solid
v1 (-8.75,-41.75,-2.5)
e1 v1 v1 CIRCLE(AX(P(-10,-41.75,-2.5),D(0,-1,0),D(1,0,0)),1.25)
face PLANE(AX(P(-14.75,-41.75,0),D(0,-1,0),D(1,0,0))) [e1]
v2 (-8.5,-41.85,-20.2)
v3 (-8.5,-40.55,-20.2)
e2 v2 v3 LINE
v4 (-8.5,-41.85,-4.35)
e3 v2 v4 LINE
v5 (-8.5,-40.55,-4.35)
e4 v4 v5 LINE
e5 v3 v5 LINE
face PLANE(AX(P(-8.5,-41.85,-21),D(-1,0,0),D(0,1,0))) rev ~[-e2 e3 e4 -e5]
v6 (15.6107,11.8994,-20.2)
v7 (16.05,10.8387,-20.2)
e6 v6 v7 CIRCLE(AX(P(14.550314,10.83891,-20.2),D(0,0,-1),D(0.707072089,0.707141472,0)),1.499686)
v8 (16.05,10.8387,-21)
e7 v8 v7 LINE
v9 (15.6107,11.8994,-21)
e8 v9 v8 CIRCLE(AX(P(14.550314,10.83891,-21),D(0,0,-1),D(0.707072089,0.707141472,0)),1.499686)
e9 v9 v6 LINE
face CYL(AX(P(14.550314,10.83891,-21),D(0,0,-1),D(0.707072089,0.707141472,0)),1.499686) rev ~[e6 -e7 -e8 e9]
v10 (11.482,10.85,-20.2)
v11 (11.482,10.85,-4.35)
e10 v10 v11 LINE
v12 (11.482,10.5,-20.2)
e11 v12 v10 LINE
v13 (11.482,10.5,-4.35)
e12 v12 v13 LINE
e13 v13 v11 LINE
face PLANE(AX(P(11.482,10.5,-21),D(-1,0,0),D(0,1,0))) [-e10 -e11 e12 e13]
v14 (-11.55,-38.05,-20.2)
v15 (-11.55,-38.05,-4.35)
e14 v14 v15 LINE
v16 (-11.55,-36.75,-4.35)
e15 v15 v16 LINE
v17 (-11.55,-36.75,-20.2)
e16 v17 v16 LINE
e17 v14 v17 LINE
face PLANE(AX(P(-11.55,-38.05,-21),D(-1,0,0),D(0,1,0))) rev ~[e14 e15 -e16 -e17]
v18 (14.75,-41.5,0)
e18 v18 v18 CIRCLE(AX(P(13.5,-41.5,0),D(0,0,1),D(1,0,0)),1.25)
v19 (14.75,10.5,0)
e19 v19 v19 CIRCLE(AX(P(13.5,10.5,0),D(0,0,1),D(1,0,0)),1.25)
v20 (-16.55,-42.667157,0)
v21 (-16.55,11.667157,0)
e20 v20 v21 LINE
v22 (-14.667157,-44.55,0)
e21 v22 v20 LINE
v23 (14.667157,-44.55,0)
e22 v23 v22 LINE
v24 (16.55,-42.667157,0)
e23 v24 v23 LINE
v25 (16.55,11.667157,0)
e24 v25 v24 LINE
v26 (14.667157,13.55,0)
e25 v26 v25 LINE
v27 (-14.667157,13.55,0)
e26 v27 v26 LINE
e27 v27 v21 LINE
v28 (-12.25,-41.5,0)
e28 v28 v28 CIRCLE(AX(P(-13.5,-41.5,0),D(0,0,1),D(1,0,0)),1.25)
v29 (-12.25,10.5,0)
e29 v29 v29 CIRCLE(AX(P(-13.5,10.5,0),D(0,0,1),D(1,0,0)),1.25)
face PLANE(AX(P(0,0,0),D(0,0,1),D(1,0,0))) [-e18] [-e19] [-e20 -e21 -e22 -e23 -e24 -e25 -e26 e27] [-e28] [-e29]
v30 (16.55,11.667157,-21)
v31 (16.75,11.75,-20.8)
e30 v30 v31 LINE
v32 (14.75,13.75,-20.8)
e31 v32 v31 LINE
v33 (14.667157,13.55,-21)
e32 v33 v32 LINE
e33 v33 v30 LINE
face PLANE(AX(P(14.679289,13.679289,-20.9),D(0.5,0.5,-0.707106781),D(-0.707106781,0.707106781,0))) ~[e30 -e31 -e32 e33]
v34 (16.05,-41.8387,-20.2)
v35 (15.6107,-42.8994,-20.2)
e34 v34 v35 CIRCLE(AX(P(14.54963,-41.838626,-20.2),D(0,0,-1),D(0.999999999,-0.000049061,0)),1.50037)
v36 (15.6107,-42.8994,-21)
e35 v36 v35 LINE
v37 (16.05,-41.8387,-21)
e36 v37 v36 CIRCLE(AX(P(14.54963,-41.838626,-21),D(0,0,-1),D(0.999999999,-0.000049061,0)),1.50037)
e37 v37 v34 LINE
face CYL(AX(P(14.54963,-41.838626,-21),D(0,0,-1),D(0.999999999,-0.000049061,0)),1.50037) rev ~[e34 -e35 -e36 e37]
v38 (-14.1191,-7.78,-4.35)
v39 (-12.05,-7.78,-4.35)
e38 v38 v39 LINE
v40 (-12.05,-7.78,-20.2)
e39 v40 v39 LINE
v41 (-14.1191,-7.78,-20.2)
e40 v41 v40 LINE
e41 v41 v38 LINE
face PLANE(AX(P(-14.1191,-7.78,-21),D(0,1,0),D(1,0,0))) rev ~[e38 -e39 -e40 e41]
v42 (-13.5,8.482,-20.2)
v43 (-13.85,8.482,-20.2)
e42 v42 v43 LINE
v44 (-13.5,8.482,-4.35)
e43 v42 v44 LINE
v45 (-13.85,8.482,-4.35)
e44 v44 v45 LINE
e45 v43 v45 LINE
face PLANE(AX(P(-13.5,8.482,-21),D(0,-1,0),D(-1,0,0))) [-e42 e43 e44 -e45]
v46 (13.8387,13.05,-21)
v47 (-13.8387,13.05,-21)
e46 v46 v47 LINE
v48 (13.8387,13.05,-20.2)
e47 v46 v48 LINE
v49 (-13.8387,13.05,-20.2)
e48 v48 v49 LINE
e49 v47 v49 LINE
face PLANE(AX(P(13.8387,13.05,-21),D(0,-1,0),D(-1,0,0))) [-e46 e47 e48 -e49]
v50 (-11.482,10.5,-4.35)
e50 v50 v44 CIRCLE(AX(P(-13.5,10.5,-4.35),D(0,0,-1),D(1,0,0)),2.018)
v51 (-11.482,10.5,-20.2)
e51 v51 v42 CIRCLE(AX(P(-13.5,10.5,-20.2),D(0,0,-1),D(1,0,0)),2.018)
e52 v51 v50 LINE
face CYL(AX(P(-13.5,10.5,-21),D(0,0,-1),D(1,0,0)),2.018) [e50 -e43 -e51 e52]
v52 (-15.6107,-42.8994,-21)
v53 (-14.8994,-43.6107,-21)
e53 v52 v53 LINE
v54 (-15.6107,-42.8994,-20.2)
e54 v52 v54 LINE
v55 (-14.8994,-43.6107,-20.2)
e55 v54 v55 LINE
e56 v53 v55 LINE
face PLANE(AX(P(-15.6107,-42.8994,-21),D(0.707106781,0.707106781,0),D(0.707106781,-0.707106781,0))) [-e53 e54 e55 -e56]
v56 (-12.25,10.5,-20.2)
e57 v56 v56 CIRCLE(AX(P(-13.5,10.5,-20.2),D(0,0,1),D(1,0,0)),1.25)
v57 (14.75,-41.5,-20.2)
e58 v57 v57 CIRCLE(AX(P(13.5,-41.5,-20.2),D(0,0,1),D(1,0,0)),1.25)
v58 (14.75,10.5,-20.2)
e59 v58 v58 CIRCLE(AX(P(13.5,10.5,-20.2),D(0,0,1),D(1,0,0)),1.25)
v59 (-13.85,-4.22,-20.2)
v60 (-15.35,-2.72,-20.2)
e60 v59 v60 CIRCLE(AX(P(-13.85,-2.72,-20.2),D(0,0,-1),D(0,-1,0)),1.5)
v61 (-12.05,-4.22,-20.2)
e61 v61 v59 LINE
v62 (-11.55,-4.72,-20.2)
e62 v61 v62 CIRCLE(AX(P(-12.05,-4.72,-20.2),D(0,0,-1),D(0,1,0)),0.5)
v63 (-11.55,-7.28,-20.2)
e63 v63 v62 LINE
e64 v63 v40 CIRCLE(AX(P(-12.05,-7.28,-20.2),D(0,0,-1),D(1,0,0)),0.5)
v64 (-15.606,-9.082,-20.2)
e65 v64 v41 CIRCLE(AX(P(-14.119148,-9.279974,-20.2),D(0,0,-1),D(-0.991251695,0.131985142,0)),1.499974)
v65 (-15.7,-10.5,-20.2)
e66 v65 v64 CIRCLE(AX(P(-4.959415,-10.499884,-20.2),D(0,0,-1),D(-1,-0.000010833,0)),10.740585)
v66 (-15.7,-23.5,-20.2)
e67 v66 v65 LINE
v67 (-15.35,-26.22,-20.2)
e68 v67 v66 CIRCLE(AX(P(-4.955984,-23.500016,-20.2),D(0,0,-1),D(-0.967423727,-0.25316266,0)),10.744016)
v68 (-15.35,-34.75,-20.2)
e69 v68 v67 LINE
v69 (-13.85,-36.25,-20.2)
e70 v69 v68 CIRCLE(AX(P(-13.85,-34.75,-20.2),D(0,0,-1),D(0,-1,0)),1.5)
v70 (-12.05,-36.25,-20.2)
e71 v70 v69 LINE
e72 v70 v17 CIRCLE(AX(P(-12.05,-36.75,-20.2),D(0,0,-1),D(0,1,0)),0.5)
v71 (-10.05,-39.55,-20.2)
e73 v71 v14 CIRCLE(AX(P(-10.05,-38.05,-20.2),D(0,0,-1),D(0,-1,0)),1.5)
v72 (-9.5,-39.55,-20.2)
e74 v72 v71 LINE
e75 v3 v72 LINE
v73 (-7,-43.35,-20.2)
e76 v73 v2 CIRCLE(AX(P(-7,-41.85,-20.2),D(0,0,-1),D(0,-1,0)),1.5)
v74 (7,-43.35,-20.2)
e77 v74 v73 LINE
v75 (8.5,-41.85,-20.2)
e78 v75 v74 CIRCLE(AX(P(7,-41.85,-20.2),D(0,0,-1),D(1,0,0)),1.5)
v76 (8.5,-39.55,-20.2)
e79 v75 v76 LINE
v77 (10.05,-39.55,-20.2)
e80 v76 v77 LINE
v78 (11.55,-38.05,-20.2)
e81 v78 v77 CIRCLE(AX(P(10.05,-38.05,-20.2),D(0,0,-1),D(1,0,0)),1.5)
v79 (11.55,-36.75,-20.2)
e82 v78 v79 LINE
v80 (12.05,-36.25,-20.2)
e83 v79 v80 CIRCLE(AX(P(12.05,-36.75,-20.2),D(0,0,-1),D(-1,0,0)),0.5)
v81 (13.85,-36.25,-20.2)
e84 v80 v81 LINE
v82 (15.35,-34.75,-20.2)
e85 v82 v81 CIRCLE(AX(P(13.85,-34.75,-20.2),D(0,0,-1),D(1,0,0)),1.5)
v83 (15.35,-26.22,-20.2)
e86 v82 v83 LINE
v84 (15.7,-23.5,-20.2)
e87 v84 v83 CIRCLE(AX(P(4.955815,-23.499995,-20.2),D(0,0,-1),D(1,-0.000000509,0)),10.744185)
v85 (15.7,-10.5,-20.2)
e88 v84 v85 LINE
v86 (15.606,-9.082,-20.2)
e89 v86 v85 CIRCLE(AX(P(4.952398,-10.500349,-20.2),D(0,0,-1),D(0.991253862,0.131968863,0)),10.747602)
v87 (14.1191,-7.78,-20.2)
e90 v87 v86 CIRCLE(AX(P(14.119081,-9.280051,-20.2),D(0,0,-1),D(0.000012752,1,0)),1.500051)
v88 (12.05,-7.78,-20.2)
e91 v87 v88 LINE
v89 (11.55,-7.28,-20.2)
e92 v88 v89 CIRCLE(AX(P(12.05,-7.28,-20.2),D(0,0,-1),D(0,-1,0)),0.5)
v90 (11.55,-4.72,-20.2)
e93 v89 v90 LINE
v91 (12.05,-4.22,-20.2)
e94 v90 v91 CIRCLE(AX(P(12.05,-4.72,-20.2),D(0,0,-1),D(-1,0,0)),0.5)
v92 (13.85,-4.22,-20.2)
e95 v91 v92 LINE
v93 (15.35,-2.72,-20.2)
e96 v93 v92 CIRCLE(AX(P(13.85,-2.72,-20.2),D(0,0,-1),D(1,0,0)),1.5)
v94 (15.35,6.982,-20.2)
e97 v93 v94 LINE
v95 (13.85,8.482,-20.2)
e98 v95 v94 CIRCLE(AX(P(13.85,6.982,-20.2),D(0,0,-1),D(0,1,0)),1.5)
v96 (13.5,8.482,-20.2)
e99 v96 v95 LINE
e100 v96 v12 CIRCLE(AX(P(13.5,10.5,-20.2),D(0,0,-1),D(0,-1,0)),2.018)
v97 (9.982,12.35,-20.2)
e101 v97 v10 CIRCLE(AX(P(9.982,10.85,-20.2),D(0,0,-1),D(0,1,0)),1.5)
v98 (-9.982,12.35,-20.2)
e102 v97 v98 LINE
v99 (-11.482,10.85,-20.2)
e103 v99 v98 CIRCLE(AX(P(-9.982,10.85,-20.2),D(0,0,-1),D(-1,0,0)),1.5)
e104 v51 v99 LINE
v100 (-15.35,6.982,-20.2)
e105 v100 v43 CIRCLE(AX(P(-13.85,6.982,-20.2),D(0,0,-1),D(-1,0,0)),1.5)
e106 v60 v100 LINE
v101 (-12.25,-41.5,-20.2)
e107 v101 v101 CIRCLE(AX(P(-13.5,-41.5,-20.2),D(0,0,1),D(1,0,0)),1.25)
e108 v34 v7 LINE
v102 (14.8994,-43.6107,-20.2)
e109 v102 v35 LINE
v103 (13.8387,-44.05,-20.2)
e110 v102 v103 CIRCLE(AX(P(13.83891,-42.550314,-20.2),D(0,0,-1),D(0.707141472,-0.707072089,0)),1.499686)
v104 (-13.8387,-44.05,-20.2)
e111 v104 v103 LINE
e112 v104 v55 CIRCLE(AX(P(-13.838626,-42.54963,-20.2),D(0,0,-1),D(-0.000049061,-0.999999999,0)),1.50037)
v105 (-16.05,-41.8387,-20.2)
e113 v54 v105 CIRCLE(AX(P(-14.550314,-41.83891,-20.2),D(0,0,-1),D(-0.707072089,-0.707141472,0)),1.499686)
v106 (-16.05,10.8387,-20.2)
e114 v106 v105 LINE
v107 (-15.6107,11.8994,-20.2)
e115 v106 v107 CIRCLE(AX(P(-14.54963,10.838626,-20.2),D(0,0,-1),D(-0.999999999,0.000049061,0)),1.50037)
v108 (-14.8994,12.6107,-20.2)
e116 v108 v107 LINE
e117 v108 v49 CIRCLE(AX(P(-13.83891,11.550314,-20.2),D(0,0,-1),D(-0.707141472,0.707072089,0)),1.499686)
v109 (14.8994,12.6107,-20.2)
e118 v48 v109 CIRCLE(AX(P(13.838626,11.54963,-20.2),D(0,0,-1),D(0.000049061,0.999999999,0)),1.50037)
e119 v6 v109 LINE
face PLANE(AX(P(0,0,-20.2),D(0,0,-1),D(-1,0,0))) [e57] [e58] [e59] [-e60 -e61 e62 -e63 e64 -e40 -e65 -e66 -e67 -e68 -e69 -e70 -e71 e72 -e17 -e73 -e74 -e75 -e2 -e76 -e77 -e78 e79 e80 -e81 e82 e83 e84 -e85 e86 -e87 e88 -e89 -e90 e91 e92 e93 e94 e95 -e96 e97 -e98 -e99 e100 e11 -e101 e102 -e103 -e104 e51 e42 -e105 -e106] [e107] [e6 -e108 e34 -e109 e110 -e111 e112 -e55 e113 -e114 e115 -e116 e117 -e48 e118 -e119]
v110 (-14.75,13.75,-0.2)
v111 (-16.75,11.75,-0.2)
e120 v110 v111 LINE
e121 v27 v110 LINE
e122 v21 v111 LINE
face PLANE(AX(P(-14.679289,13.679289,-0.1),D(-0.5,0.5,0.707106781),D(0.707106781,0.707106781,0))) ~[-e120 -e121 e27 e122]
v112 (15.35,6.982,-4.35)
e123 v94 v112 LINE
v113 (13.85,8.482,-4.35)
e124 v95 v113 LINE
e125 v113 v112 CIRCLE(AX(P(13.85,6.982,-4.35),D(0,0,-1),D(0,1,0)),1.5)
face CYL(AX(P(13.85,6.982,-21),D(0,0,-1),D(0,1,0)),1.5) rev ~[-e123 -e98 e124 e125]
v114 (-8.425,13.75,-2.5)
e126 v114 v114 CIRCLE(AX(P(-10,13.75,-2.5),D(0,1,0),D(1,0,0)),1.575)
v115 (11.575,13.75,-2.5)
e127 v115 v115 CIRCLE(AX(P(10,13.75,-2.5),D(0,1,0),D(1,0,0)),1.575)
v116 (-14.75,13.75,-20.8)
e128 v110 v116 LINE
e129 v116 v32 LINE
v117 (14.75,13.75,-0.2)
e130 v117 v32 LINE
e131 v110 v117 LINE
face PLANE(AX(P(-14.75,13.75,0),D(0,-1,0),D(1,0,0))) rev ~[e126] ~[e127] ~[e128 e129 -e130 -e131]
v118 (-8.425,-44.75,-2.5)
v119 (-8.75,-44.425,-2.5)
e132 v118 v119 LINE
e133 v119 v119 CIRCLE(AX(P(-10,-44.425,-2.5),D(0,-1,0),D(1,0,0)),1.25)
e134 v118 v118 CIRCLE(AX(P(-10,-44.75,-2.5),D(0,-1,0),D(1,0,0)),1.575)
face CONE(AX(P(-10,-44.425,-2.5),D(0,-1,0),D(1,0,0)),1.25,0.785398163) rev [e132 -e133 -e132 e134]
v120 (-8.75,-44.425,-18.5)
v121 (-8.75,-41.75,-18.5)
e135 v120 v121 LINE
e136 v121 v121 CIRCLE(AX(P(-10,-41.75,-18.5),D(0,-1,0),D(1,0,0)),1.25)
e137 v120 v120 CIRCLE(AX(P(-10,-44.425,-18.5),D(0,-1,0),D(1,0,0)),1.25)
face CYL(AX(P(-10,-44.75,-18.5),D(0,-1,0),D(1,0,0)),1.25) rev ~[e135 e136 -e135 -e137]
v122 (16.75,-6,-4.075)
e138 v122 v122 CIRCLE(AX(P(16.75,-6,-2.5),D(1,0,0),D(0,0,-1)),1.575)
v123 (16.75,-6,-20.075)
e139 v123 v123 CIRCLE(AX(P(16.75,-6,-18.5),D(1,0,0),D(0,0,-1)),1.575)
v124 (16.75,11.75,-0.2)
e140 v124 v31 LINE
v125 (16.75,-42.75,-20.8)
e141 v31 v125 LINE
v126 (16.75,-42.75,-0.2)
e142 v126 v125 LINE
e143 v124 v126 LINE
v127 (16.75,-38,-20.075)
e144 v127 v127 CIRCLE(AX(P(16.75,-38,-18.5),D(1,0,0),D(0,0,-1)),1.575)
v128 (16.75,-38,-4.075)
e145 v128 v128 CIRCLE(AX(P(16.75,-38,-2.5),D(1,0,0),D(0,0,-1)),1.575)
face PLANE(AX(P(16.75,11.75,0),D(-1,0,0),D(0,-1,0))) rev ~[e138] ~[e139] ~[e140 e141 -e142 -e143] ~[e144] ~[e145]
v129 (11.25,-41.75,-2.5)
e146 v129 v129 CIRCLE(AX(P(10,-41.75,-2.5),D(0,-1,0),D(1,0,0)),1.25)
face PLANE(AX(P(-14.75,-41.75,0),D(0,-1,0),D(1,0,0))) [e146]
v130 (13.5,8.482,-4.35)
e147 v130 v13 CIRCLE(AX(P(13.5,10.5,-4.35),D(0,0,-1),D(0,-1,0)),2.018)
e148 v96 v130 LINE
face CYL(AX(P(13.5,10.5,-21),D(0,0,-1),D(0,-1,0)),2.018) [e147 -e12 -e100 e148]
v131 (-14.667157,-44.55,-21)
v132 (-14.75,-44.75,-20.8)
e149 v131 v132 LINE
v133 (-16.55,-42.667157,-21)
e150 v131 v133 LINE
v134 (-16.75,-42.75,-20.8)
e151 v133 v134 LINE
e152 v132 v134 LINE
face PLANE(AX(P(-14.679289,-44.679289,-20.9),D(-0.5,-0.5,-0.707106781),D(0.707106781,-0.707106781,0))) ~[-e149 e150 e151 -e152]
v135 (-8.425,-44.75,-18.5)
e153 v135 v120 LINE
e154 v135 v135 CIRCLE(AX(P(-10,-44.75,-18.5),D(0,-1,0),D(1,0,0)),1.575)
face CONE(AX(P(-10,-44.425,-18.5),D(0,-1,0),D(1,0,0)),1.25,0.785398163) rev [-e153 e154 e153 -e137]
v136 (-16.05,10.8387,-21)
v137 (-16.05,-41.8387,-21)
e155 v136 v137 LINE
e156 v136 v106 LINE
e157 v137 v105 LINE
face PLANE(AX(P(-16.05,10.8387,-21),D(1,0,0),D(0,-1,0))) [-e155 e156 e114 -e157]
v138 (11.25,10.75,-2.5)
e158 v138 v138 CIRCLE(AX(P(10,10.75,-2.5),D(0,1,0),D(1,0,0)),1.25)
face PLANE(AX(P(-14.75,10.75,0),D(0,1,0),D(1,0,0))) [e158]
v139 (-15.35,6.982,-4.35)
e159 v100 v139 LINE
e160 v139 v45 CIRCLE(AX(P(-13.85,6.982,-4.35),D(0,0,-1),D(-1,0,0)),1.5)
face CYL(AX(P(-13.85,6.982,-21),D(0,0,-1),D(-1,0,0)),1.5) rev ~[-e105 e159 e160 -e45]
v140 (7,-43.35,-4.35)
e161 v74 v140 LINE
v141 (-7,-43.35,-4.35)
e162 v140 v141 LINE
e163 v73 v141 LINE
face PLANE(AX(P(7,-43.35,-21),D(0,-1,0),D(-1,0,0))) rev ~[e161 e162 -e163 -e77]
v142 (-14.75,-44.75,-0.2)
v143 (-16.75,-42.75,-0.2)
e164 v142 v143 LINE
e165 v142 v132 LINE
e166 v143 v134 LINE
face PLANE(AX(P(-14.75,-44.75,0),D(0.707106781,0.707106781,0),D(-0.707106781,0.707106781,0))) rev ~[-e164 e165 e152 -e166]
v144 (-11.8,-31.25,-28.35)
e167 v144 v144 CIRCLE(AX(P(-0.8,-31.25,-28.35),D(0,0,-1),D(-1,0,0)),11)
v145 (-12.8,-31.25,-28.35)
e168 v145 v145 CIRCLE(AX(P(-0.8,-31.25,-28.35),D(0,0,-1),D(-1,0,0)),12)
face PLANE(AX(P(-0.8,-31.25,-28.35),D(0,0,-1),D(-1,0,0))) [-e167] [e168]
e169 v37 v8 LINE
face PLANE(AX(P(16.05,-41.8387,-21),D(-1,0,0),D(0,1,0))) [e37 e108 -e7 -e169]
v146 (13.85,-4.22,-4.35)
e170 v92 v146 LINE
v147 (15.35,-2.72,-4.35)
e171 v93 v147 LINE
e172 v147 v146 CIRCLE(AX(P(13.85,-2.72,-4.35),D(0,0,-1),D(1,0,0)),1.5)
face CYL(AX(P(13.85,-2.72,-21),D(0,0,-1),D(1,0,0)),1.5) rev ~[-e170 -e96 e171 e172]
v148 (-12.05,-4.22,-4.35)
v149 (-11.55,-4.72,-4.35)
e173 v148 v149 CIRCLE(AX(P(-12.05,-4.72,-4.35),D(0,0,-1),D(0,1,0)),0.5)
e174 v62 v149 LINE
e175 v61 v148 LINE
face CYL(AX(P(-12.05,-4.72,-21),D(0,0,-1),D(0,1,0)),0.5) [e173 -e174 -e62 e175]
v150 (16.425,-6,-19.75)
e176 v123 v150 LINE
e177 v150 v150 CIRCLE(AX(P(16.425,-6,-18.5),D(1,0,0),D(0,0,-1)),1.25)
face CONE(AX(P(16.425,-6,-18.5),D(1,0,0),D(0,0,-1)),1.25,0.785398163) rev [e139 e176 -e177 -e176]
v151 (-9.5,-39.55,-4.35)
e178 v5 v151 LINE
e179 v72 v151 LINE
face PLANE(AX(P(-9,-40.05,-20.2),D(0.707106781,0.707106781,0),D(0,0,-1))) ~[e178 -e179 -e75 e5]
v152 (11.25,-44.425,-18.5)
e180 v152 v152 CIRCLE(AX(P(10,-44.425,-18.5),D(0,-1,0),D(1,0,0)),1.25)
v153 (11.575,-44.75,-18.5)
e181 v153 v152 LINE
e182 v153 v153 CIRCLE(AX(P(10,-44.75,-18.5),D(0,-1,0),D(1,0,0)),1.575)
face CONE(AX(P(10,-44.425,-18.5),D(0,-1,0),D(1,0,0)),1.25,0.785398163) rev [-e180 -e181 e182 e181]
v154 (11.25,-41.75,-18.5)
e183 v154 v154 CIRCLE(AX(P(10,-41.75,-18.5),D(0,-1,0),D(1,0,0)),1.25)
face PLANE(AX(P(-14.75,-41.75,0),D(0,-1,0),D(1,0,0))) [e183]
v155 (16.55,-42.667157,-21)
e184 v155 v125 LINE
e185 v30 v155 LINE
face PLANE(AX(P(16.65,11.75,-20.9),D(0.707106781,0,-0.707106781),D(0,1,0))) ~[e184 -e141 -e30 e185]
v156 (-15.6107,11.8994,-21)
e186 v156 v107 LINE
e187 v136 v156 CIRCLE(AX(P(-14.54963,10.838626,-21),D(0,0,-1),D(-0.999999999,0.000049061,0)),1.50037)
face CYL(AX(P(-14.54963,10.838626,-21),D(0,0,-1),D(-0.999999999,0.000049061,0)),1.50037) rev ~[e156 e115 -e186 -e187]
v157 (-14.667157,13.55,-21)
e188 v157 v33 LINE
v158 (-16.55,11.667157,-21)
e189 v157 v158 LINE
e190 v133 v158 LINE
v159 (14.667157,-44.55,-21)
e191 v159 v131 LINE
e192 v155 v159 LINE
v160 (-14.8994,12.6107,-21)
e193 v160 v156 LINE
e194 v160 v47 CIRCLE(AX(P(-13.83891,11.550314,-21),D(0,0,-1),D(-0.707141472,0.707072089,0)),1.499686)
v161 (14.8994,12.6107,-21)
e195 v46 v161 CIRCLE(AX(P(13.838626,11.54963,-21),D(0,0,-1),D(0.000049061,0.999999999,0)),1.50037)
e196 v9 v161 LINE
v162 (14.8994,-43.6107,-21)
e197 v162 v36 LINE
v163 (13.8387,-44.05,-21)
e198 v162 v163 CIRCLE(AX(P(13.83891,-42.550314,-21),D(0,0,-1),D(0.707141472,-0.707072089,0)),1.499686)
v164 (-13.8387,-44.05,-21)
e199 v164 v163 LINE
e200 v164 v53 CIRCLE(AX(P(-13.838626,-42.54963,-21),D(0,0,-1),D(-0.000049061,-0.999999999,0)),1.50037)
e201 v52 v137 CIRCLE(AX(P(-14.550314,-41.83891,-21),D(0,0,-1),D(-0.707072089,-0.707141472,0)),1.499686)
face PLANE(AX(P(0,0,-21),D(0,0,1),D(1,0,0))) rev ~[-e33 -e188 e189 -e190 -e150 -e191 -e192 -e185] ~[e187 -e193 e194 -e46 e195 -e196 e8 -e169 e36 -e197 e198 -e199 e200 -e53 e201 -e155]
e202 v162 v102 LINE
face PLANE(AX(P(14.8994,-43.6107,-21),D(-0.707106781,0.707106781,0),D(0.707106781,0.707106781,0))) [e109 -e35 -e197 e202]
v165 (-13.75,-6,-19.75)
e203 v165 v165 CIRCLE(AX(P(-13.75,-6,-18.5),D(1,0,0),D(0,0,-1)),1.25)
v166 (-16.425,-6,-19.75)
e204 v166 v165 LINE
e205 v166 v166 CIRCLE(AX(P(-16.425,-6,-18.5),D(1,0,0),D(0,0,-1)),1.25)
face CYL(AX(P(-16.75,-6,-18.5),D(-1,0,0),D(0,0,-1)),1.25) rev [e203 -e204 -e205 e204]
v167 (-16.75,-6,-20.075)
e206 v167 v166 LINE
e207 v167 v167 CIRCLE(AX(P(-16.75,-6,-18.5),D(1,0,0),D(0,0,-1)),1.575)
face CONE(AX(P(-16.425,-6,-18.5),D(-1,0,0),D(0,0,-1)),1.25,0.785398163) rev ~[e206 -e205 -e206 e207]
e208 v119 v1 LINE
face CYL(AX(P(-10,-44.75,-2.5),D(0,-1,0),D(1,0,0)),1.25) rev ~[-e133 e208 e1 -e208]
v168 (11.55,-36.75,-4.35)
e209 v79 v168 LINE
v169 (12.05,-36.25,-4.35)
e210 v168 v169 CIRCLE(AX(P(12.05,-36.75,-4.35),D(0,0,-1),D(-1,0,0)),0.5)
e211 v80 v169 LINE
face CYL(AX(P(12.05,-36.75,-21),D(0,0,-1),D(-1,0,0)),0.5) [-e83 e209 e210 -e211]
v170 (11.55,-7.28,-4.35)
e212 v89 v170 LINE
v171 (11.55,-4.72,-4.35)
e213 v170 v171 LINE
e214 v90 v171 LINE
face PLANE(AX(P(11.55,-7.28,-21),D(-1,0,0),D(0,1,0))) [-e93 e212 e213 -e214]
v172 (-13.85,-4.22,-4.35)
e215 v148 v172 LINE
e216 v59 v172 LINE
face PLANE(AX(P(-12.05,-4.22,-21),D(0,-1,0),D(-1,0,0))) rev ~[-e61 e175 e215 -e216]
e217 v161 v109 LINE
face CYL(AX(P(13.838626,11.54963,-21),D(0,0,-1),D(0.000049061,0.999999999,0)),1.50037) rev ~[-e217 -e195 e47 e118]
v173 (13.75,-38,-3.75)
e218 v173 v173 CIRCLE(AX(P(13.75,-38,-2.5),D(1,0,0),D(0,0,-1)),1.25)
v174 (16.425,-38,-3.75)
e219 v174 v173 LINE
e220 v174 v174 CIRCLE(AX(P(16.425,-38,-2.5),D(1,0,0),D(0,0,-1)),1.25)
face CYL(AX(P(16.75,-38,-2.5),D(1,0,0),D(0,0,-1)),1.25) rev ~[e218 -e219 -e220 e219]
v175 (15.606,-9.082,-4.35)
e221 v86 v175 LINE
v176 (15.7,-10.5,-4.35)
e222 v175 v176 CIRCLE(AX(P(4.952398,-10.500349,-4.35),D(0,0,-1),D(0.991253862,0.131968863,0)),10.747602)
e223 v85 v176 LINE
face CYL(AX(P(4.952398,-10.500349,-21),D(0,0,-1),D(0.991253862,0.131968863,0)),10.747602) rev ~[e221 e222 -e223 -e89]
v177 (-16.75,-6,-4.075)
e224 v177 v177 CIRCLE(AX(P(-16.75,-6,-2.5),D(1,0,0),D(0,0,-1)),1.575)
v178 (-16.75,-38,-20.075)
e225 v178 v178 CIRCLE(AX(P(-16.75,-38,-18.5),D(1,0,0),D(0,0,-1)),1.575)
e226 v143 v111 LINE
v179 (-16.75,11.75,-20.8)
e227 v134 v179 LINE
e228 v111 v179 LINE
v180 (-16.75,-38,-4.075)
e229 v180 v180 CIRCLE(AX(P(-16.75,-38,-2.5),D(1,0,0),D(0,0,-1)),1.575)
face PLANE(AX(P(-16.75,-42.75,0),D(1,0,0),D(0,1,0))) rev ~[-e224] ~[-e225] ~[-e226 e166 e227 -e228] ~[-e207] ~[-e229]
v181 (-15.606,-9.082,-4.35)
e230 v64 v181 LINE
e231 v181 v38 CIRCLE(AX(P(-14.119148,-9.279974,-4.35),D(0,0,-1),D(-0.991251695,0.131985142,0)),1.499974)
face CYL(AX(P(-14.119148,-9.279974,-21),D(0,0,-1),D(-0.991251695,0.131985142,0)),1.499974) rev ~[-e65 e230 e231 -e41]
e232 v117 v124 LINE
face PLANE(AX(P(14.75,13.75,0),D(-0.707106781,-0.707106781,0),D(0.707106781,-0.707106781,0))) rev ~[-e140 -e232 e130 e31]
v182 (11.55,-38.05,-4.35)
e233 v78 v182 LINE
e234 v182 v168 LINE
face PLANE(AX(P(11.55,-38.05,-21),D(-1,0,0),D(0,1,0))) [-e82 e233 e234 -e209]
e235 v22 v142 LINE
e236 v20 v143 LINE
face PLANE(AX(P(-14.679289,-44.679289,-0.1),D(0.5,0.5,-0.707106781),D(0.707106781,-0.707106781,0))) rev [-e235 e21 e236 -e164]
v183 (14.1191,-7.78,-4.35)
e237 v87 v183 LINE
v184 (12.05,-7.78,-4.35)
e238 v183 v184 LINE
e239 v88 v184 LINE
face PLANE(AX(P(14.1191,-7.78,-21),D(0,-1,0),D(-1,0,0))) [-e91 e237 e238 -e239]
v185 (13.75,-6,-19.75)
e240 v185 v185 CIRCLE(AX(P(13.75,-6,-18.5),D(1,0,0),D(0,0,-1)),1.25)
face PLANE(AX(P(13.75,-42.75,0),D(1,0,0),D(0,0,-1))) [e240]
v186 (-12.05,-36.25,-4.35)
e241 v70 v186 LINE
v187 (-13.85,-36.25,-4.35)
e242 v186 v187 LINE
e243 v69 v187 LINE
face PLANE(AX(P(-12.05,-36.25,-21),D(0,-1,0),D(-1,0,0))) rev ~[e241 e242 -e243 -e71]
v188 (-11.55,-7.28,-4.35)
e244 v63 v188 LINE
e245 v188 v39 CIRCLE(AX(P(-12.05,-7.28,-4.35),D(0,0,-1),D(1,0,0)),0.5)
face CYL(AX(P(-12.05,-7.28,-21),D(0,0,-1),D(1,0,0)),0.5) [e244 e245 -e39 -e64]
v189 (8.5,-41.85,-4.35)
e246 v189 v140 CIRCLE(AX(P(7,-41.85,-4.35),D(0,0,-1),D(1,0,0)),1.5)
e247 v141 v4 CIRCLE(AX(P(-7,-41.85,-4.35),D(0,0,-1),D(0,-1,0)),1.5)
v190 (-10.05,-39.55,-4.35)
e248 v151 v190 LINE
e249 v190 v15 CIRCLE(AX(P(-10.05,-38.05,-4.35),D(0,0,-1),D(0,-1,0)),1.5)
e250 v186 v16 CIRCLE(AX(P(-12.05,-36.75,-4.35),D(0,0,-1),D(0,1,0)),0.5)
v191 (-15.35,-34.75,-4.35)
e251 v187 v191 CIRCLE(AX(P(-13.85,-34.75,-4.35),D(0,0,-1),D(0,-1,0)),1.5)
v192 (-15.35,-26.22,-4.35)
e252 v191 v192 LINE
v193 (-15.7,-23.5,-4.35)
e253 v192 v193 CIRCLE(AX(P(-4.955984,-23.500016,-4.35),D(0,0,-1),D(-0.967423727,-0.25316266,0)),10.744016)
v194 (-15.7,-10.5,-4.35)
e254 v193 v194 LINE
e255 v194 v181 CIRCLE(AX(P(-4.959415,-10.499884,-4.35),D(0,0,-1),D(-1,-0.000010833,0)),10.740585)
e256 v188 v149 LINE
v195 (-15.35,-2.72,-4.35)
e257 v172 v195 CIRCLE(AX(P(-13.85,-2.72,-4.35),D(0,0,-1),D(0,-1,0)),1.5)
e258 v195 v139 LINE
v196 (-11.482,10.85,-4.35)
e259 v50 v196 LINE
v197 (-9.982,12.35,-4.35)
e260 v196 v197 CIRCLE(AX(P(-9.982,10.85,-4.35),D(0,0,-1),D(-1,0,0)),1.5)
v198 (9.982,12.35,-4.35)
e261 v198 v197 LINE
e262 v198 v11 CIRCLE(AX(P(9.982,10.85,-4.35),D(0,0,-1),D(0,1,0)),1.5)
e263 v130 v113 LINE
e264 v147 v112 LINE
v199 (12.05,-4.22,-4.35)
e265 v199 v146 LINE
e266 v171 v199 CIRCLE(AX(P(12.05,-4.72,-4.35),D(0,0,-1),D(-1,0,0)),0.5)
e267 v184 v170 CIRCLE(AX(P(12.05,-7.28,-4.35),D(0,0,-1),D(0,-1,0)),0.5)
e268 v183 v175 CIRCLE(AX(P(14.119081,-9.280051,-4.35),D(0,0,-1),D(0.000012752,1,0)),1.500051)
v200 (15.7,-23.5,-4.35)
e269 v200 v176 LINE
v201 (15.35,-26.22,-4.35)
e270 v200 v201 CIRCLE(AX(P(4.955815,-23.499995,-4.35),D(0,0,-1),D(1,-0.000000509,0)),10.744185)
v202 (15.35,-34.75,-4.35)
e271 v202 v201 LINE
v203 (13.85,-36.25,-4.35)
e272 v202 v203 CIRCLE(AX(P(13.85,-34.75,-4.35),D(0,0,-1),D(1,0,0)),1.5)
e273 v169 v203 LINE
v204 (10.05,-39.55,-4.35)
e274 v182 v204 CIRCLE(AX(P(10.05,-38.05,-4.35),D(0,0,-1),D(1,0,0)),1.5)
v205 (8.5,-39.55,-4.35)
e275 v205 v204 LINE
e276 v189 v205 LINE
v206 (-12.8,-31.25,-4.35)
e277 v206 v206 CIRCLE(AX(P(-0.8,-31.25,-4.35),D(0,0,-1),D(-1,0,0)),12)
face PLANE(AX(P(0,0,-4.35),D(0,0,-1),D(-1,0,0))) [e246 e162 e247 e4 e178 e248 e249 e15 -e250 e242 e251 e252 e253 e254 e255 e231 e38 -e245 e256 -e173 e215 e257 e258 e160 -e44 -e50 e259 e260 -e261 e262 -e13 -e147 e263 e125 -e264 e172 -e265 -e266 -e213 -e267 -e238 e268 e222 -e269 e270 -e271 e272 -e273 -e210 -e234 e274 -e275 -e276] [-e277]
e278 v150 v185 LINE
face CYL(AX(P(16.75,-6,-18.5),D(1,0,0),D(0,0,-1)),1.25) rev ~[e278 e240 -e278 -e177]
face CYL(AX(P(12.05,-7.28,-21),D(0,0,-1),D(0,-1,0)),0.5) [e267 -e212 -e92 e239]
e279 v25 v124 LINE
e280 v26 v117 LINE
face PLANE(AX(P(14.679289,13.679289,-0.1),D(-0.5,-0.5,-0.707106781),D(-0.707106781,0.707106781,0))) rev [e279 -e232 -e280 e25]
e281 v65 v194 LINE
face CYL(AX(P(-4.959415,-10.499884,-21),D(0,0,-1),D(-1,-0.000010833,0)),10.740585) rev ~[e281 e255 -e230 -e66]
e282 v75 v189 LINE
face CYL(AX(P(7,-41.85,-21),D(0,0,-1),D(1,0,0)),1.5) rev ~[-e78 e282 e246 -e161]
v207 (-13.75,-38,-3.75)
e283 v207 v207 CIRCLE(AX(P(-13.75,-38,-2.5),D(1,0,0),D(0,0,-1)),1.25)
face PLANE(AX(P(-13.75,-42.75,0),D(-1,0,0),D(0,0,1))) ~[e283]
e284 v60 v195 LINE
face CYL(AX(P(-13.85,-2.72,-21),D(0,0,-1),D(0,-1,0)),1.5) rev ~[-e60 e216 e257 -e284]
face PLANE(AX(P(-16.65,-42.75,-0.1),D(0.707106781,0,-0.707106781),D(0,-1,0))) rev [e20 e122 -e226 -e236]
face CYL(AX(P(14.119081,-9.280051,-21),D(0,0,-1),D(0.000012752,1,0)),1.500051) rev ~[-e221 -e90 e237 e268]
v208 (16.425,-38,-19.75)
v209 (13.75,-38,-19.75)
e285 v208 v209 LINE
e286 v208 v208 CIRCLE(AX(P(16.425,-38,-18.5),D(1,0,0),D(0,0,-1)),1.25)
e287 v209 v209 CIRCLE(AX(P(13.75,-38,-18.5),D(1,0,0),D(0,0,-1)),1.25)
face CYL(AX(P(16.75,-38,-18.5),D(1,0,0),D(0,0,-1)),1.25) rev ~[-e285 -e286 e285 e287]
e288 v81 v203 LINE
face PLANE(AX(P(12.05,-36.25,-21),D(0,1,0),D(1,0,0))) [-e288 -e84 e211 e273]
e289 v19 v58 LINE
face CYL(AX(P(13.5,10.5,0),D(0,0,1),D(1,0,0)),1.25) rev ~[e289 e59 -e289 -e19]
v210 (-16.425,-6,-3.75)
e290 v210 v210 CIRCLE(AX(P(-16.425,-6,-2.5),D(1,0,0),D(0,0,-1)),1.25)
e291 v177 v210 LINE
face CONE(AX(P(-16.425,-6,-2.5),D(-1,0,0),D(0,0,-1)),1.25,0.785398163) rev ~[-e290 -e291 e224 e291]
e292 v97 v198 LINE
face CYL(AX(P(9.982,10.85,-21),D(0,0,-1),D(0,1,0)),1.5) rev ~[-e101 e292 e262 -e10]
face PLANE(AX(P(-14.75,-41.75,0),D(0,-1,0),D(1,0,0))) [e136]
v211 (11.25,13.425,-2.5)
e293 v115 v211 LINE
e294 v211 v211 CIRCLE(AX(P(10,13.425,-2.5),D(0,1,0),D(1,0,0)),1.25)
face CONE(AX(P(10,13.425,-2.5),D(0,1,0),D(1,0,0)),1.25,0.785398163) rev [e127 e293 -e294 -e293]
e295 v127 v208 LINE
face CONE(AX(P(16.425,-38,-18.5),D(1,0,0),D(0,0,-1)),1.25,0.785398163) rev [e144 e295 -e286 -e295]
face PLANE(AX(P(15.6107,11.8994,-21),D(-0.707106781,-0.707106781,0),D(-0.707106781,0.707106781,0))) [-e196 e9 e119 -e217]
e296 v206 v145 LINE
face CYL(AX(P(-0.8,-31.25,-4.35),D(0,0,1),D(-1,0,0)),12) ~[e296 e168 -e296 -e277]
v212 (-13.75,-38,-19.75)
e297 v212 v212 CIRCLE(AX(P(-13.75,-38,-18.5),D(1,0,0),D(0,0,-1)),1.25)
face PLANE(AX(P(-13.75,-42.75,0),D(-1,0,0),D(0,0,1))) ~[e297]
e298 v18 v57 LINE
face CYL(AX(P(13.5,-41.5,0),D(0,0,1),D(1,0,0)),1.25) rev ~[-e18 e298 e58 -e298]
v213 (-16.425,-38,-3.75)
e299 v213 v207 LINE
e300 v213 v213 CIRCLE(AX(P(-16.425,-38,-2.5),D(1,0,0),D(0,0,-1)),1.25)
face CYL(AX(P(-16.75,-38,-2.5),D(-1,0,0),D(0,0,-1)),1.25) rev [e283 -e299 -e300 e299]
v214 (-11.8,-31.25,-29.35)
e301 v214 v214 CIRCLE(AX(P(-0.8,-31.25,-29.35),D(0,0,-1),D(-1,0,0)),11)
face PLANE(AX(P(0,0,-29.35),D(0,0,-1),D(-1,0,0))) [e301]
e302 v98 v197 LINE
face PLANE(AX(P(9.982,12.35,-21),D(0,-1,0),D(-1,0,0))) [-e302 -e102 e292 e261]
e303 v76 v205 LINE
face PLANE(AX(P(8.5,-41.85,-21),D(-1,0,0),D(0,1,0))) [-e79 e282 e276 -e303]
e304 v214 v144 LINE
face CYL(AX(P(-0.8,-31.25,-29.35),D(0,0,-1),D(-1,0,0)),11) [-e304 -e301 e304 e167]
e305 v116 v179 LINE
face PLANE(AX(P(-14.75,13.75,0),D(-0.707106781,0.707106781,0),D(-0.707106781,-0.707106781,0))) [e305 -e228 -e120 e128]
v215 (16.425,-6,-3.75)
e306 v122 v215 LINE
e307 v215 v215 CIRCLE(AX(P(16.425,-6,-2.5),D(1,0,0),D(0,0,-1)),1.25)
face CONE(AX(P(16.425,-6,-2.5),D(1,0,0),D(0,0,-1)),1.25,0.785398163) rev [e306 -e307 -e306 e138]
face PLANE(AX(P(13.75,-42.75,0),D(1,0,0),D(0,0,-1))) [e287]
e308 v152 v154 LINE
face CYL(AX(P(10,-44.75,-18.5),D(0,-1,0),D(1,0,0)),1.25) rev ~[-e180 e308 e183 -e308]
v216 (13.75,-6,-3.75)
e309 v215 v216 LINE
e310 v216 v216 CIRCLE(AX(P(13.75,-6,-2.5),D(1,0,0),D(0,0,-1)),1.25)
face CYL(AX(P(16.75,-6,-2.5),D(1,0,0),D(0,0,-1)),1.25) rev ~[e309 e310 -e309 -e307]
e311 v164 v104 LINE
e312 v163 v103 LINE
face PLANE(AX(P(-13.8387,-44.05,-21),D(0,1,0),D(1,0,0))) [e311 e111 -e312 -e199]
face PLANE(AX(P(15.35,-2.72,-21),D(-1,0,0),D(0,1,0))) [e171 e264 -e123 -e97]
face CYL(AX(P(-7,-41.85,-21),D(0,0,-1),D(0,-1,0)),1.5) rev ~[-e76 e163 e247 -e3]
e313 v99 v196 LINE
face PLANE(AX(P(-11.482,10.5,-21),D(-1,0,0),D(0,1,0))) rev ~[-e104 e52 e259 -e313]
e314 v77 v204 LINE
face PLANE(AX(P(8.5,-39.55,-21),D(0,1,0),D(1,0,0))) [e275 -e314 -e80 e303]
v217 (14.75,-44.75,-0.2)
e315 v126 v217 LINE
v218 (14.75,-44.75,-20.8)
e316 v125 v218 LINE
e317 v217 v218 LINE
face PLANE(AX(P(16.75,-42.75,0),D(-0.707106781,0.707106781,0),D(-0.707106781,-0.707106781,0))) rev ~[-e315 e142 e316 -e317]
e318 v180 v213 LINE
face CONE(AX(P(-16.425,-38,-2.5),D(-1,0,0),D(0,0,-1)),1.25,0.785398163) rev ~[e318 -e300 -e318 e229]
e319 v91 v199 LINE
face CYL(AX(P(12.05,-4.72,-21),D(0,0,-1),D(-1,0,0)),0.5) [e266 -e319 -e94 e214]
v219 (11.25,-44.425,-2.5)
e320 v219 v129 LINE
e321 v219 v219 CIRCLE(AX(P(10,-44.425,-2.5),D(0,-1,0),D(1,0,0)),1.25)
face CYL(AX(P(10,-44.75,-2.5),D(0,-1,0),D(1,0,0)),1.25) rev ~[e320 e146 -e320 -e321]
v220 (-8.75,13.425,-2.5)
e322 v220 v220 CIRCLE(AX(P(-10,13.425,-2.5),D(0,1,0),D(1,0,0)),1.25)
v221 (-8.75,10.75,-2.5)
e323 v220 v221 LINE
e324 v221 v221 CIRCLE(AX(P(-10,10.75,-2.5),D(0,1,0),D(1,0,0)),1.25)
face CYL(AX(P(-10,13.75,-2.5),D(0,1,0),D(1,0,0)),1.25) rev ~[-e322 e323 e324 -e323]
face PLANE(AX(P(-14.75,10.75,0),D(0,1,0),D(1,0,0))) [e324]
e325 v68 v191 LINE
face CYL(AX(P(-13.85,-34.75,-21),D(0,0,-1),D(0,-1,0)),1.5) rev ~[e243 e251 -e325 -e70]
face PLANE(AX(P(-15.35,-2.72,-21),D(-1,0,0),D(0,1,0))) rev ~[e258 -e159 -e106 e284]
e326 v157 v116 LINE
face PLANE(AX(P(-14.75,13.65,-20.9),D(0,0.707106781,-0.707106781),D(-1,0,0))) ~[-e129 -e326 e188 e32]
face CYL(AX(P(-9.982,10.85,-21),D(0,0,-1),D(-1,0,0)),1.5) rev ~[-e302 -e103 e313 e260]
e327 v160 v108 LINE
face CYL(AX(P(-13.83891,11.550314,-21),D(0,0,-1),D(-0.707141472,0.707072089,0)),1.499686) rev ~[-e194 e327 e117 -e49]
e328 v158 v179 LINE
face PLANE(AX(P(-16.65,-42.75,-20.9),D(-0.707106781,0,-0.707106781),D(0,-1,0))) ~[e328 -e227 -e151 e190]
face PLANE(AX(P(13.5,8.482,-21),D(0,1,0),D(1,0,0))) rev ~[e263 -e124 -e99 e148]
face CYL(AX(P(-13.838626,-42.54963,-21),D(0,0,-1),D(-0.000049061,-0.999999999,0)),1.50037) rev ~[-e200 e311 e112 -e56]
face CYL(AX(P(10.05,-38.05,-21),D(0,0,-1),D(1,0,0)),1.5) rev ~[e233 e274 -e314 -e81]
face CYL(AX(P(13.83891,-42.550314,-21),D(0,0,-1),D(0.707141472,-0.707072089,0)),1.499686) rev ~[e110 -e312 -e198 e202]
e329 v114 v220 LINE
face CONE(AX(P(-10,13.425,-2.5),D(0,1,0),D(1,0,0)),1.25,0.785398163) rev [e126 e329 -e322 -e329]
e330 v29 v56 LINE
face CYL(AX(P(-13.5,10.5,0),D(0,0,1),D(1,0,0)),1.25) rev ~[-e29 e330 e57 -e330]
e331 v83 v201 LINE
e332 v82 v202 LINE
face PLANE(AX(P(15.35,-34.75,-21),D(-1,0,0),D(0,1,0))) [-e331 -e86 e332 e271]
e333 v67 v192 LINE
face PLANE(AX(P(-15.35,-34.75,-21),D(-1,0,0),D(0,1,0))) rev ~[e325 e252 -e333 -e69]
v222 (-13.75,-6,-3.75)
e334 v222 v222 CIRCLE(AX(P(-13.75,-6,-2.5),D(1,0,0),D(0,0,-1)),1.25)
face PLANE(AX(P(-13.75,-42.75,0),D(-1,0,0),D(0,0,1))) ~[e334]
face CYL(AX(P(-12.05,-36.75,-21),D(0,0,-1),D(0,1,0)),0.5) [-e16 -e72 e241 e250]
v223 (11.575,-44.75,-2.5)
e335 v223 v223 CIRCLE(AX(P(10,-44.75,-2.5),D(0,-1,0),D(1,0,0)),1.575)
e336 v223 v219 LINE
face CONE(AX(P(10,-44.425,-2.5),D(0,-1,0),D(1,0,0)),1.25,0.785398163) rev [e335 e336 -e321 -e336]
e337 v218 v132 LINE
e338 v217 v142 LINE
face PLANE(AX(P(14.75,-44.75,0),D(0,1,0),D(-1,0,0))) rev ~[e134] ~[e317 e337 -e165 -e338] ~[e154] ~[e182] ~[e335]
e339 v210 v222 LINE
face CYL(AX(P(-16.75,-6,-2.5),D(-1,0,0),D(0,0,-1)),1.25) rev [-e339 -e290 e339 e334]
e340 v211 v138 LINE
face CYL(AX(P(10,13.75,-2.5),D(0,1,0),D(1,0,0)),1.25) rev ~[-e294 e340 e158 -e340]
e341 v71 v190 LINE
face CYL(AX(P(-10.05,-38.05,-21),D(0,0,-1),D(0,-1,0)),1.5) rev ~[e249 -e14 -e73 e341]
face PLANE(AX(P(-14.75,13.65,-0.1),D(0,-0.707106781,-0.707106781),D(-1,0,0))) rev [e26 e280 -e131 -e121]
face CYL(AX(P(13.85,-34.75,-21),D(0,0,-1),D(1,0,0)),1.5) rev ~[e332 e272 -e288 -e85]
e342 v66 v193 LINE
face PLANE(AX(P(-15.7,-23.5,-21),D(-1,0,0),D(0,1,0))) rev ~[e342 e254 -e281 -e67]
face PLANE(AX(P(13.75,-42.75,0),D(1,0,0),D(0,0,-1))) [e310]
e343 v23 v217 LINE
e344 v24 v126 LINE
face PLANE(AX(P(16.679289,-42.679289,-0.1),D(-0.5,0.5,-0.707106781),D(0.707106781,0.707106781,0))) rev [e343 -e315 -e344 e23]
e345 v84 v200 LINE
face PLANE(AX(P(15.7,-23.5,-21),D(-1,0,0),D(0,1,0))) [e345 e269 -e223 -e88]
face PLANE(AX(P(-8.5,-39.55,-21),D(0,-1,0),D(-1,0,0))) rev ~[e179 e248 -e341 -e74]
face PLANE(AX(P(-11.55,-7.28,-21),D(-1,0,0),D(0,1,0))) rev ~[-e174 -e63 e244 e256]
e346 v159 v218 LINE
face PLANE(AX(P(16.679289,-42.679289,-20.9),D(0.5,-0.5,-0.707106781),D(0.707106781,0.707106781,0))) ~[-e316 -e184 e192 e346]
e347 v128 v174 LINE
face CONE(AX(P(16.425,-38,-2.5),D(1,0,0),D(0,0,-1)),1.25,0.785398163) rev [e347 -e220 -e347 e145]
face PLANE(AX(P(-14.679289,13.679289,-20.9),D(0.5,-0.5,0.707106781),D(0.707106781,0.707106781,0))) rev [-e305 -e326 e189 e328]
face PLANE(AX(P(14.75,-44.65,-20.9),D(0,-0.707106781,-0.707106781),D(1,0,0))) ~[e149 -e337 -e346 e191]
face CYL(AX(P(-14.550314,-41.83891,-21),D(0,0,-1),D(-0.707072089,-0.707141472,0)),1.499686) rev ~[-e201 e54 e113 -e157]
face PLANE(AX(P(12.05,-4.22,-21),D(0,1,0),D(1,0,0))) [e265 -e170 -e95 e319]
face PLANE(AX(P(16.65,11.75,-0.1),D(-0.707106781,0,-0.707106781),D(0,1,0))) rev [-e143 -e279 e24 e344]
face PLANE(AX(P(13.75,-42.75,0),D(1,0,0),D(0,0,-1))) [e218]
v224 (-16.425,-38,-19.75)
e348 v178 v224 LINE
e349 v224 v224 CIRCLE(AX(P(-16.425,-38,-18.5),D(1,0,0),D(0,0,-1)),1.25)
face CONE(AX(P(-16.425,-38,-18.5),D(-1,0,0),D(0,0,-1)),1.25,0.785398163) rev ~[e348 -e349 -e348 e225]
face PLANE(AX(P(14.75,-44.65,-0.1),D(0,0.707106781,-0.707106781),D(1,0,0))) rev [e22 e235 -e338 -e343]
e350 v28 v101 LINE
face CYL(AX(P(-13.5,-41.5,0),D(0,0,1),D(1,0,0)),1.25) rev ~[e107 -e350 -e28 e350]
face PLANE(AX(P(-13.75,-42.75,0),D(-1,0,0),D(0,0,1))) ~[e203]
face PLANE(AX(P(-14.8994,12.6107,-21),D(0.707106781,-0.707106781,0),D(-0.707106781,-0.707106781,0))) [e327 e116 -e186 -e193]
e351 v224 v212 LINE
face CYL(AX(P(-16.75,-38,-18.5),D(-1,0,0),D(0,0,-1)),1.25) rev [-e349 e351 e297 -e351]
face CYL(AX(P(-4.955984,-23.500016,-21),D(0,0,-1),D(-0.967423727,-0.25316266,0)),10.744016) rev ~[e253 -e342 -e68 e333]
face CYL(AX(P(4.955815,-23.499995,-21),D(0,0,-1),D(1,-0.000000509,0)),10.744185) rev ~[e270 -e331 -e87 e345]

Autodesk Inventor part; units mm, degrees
ref_plane "YZ Plane" through (0, 0, 0) normal (1, 0, 0) x (0, 1, 0)
ref_plane "XZ Plane" through (0, 0, 0) normal (0, 1, 0) x (-1, 0, 0)
ref_plane "XY Plane" through (0, 0, 0) normal (0, 0, 1) x (1, 0, 0)
sketch "スケッチ1" plane through (0, 0, 0) normal (0, 0, 1) x (1, 0, 0)
  line L0 (-14.75, 13.75) -> (14.75, 13.75)
  line L1 (16.75, 11.75) -> (16.75, -42.75)
  line L2 (14.75, -44.75) -> (-14.75, -44.75)
  line L3 (-16.75, -42.75) -> (-16.75, 11.75)
  line L4 (-14.75, 13.75) -> (-16.75, 11.75)
  line L5 (14.75, 13.75) -> (16.75, 11.75)
  line L6 (16.75, -42.75) -> (14.75, -44.75)
  line L7 (-14.75, -44.75) -> (-16.75, -42.75)
  line L8 (0, 0) -> (0, -49.9081) construction
  circle A0 centre (0, 0) radius 13 construction
  line L9 (-13.5, 10.5) -> (13.5, 10.5) construction
  line L10 (13.5, 10.5) -> (13.5, -41.5) construction
  line L11 (13.5, -41.5) -> (-13.5, -41.5) construction
  line L12 (-13.5, -41.5) -> (-13.5, 10.5) construction
  circle A1 centre (-13.5, 10.5) radius 1.25
  circle A2 centre (13.5, 10.5) radius 1.25
  circle A3 centre (13.5, -41.5) radius 1.25
  circle A4 centre (-13.5, -41.5) radius 1.25
  point P0 (-16.75, 13.75)
  point P1 (16.75, -44.75)
  point P2 (16.75, 13.75)
  point P3 (-16.75, -44.75)
  dimension "d0" = 2
  dimension "d1" = 2
  dimension "d2" = 2
  dimension "d3" = 2
  dimension "d4" = 2
  dimension "d5" = 2
  dimension "d6" = 2
  dimension "d7" = 2
  dimension "d8" = 33.5
  dimension "d9" = 26
  dimension "d10" = 13.75
  dimension "d11" = 58.5
  dimension "d24" = 27
  dimension "d25" = 10.5
  dimension "d26" = 52
  dimension "d27" = 2.5
extrude "押し出し1" add sketch "スケッチ1" against normal blind 21
sketch "スケッチ6" plane through (16.75, -42.75, 0) normal (1, 0, 0) x (0, 0, -1)
  line L0 (0, 42.75) -> (40.1167, 42.75) construction
  line L1 (2.5, 36.75) -> (18.5, 36.75) construction
  line L2 (18.5, 36.75) -> (18.5, 4.75) construction
  line L3 (18.5, 4.75) -> (2.5, 4.75) construction
  line L4 (2.5, 4.75) -> (2.5, 36.75) construction
  line L5 (0, 56.5) -> (21, 56.5) construction
  line L6 (10.5, 56.5) -> (10.5, -5.6653) construction
  circle A0 centre (2.5, 36.75) radius 1.25
  circle A1 centre (18.5, 36.75) radius 1.25
  circle A2 centre (2.5, 4.75) radius 1.25
  circle A3 centre (18.5, 4.75) radius 1.25
  dimension "d48" = 16
  dimension "d49" = 6
  dimension "d50" = 32
  dimension "d51" = 2.5
extrude "押し出し2" cut sketch "スケッチ6" against normal blind 3
sketch "スケッチ7" plane through (-14.75, 13.75, 0) normal (0, 1, 0) x (1, 0, 0)
  line L0 (14.75, 0) -> (14.75, 27.6085) construction
  circle A0 centre (24.75, 2.5) radius 1.25
  circle A1 centre (4.75, 2.5) radius 1.25
  dimension "d54" = 2.5
  dimension "d55" = 20
  dimension "d56" = 2.5
extrude "押し出し5" cut sketch "スケッチ7" against normal blind 3
sketch "スケッチ8" plane through (-14.75, -44.75, 0) normal (0, -1, 0) x (1, 0, 0)
  line L0 (14.75, 0) -> (14.75, -30.7913) construction
  circle A0 centre (24.75, -2.5) radius 1.25
  circle A1 centre (24.75, -18.5) radius 1.25
  line L1 (24.75, -2.5) -> (24.75, -18.5) construction
  line L2 (31.5, 0) -> (31.5, -21) construction
  line L3 (31.5, -10.5) -> (5.222, -10.5) construction
  circle A2 centre (4.75, -2.5) radius 1.25
  circle A3 centre (4.75, -18.5) radius 1.25
  dimension "d59" = 2.5
  dimension "d60" = 16
  dimension "d61" = 20
extrude "押し出し6" cut sketch "スケッチ8" against normal blind 3
mirror "ミラー1" about plane through (0, 0, 0) normal (1, 0, 0) of "押し出し2"
sketch "スケッチ9" plane through (0, 0, -21) normal (0, 0, -1) x (-1, 0, 0)
  line L0 (14.75, 13.75) -> (-14.75, 13.75) construction
  line L1 (16.75, 11.75) -> (14.75, 13.75) construction
  line L2 (16.75, -42.75) -> (16.75, 11.75) construction
  line L3 (14.75, -44.75) -> (16.75, -42.75) construction
  line L4 (-14.75, -44.75) -> (14.75, -44.75) construction
  line L5 (-16.75, -42.75) -> (-14.75, -44.75) construction
  line L6 (-16.75, 11.75) -> (-16.75, -42.75) construction
  line L7 (-14.75, 13.75) -> (-16.75, 11.75) construction
  line L8 (-13.8387, 13.05) -> (13.8387, 13.05)
  line L9 (14.8994, 12.6107) -> (15.6107, 11.8994)
  line L10 (16.05, 10.8387) -> (16.05, -41.8387)
  line L11 (15.6107, -42.8994) -> (14.8994, -43.6107)
  line L12 (13.8387, -44.05) -> (-13.8387, -44.05)
  line L13 (-14.8994, -43.6107) -> (-15.6107, -42.8994)
  line L14 (-16.05, -41.8387) -> (-16.05, 10.8387)
  line L15 (-15.6107, 11.8994) -> (-14.8994, 12.6107)
  arc A0 (14.8994, 12.6107) -> (13.8387, 13.05) centre (13.8387, 11.55) ccw
  arc A1 (16.05, 10.8387) -> (15.6107, 11.8994) centre (14.55, 10.8387) ccw
  arc A2 (15.6107, -42.8994) -> (16.05, -41.8387) centre (14.55, -41.8387) ccw
  arc A3 (13.8387, -44.05) -> (14.8994, -43.6107) centre (13.8387, -42.55) ccw
  arc A4 (-14.8994, -43.6107) -> (-13.8387, -44.05) centre (-13.8387, -42.55) ccw
  arc A5 (-16.05, -41.8387) -> (-15.6107, -42.8994) centre (-14.55, -41.8387) ccw
  arc A6 (-15.6107, 11.8994) -> (-16.05, 10.8387) centre (-14.55, 10.8387) ccw
  arc A7 (-13.8387, 13.05) -> (-14.8994, 12.6107) centre (-13.8387, 11.55) ccw
  point P0 (0, 0)
  dimension "d64" = 0.7
  dimension "d65" = 1.5
extrude "押し出し7" cut sketch "スケッチ9" against normal blind 0.8
sketch "スケッチ10" plane through (0, 0, -21) normal (0, 0, -1) x (-1, 0, 0)
  line L0 (-14.75, 13.75) -> (14.75, 13.75) construction
  line L1 (0, 13.75) -> (0, -44.75) construction
  line L2 (-14.75, -44.75) -> (14.75, -44.75) construction
  line L3 (-7, -43.35) -> (7, -43.35)
  line L4 (8.5, -41.85) -> (8.5, -39.55)
  line L5 (8.5, -39.55) -> (10.05, -39.55)
  line L6 (11.55, -38.05) -> (11.55, -36.75)
  line L7 (12.05, -36.25) -> (13.85, -36.25)
  line L8 (15.35, -34.75) -> (15.35, -26.22)
  line L9 (15.7, -23.5) -> (15.7, -10.5)
  line L10 (14.1191, -7.78) -> (12.05, -7.78)
  line L11 (11.55, -7.28) -> (11.55, -4.72)
  line L12 (12.05, -4.22) -> (13.85, -4.22)
  line L13 (15.35, -2.72) -> (15.35, 6.982)
  line L14 (-9.982, 12.35) -> (9.982, 12.35)
  line L15 (4.8838, -6) -> (31.9942, -6) construction
  arc A0 (11.482, 10.5) -> (13.5, 8.482) centre (13.5, 10.5) ccw
  circle A1 centre (13.5, 10.5) radius 1.25 construction
  line L16 (16.75, 11.75) -> (14.75, 13.75) construction
  line L17 (13.073, 8.073) -> (11.073, 10.073) construction
  line L18 (16.75, -42.75) -> (16.75, 11.75) construction
  line L19 (11.482, 10.5) -> (11.482, 10.85)
  line L20 (13.5, 8.482) -> (13.85, 8.482)
  arc A2 (15.35, -26.22) -> (15.7, -23.5) centre (4.9559, -23.5) ccw
  arc A3 (15.7, -10.5) -> (15.606, -9.082) centre (4.9559, -10.5) ccw
  arc A4 (12.05, -4.22) -> (11.55, -4.72) centre (12.05, -4.72) ccw
  arc A5 (11.55, -7.28) -> (12.05, -7.78) centre (12.05, -7.28) ccw
  arc A6 (12.05, -36.25) -> (11.55, -36.75) centre (12.05, -36.75) ccw
  arc A7 (7, -43.35) -> (8.5, -41.85) centre (7, -41.85) ccw
  arc A8 (10.05, -39.55) -> (11.55, -38.05) centre (10.05, -38.05) ccw
  arc A9 (13.85, -36.25) -> (15.35, -34.75) centre (13.85, -34.75) ccw
  arc A10 (15.606, -9.082) -> (14.1191, -7.78) centre (14.1191, -9.28) ccw
  arc A11 (13.85, -4.22) -> (15.35, -2.72) centre (13.85, -2.72) ccw
  arc A12 (15.35, 6.982) -> (13.85, 8.482) centre (13.85, 6.982) ccw
  arc A13 (11.482, 10.85) -> (9.982, 12.35) centre (9.982, 10.85) ccw
  line L21 (-8.5, -41.85) -> (-8.5, -39.55)
  line L22 (-8.5, -39.55) -> (-10.05, -39.55)
  line L23 (-11.55, -38.05) -> (-11.55, -36.75)
  line L24 (-12.05, -36.25) -> (-13.85, -36.25)
  line L25 (-15.35, -34.75) -> (-15.35, -26.22)
  line L26 (-15.7, -23.5) -> (-15.7, -10.5)
  line L27 (-14.1191, -7.78) -> (-12.05, -7.78)
  line L28 (-11.55, -7.28) -> (-11.55, -4.72)
  line L29 (-12.05, -4.22) -> (-13.85, -4.22)
  line L30 (-15.35, -2.72) -> (-15.35, 6.982)
  arc A14 (-13.5, 8.482) -> (-11.482, 10.5) centre (-13.5, 10.5) ccw
  line L31 (-11.482, 10.5) -> (-11.482, 10.85)
  line L32 (-13.5, 8.482) -> (-13.85, 8.482)
  arc A15 (-15.7, -23.5) -> (-15.35, -26.22) centre (-4.9559, -23.5) ccw
  arc A16 (-15.606, -9.082) -> (-15.7, -10.5) centre (-4.9559, -10.5) ccw
  arc A17 (-11.55, -4.72) -> (-12.05, -4.22) centre (-12.05, -4.72) ccw
  arc A18 (-12.05, -7.78) -> (-11.55, -7.28) centre (-12.05, -7.28) ccw
  arc A19 (-11.55, -36.75) -> (-12.05, -36.25) centre (-12.05, -36.75) ccw
  arc A20 (-8.5, -41.85) -> (-7, -43.35) centre (-7, -41.85) ccw
  arc A21 (-11.55, -38.05) -> (-10.05, -39.55) centre (-10.05, -38.05) ccw
  arc A22 (-15.35, -34.75) -> (-13.85, -36.25) centre (-13.85, -34.75) ccw
  arc A23 (-14.1191, -7.78) -> (-15.606, -9.082) centre (-14.1191, -9.28) ccw
  arc A24 (-15.35, -2.72) -> (-13.85, -4.22) centre (-13.85, -2.72) ccw
  arc A25 (-13.85, 8.482) -> (-15.35, 6.982) centre (-13.85, 6.982) ccw
  arc A26 (-9.982, 12.35) -> (-11.482, 10.85) centre (-9.982, 10.85) ccw
  point P0 (0, 0)
  point P1 (15.35, -7.78)
  point P2 (11.55, -7.78)
  point P3 (11.55, -4.22)
  point P4 (-15.35, -7.78)
  point P5 (-11.55, -7.78)
  point P6 (-11.55, -4.22)
  dimension "d68" = 6
  dimension "d69" = 3.56
  dimension "d71" = 5.2
  dimension "d72" = 1.4
  dimension "d73" = 1.4
  dimension "d75" = 5.2
  dimension "d76" = 1.05
  dimension "d77" = 24.25
  dimension "d78" = 13
  dimension "d80" = 1.4
  dimension "d81" = 8.5
  dimension "d82" = 5.2
  dimension "d83" = 5.2
  dimension "d84" = 8.25
  dimension "d85" = 0.5
  dimension "d86" = 1.5
extrude "押し出し8" cut sketch "スケッチ10" against normal blind 16.65
chamfer "面取り3" distance 1 angle 45 1 edges at (-8.5, -39.55, -12.275)
sketch "スケッチ11" plane through (0, 0, -4.35) normal (0, 0, -1) x (-1, 0, 0)
  circle A0 centre (0.8, -31.25) radius 12
  line L0 (-3.9631, -43.25) -> (12.8, -43.25) construction
  line L1 (12.8, -43.25) -> (12.8, -16.7413) construction
  line L2 (16.75, -42.75) -> (16.75, 11.75) projected
  line L3 (-14.75, -44.75) -> (14.75, -44.75) projected
  point P0 (0, 0)
  dimension "d89" = 24
  dimension "d90" = 3.95
  dimension "d91" = 1.5
extrude "押し出し9" add sketch "スケッチ11" along normal blind 25
sketch "スケッチ12" plane through (-0.8, -31.25, -29.35) normal (0, 0, -1) x (-1, 0, 0)
  circle A0 centre (0, 0) radius 12 projected
  circle A1 centre (0, 0) radius 11
  point P0 (-0.8, 31.25)
  dimension "d94" = 1
extrude "押し出し10" cut sketch "スケッチ12" against normal blind 1
chamfer "面取り4" distance 0.2 angle 45 16 edges at (16.75, -15.5, 0) (15.75, 12.75, 0) (0, 13.75, 0) (-15.75, 12.75, 0) (-16.75, -15.5, 0) (-15.75, -43.75, 0) (0, -44.75, 0) (15.75, -43.75, 0) (-15.75, -43.75, -21) (0, -44.75, -21) (15.75, -43.75, -21) (16.75, -15.5, -21) (15.75, 12.75, -21) (0, 13.75, -21) (-15.75, 12.75, -21) (-16.75, -15.5, -21)
chamfer "面取り5" distance 0.325 angle 45 14 edges at (-16.75, -38, -1.25) (-16.75, -38, -17.25) (-11.25, -44.75, -18.5) (-11.25, -44.75, -2.5) (8.75, -44.75, -18.5) (8.75, -44.75, -2.5) (-16.75, -6, -1.25) (-16.75, -6, -17.25) (-11.25, 13.75, -2.5) (16.75, -38, -17.25) (16.75, -38, -1.25) (16.75, -6, -17.25) (16.75, -6, -1.25) (8.75, 13.75, -2.5)
equation "\"d1\" = d0"
equation "\"d2\" = d0"
equation "\"d3\" = d2"
equation "\"d4\" = d0"
equation "\"d5\" = d4"
equation "\"d6\" = d0"
equation "\"d7\" = d6"
properties part number "XM540_HOUSING_MIDDLE"
